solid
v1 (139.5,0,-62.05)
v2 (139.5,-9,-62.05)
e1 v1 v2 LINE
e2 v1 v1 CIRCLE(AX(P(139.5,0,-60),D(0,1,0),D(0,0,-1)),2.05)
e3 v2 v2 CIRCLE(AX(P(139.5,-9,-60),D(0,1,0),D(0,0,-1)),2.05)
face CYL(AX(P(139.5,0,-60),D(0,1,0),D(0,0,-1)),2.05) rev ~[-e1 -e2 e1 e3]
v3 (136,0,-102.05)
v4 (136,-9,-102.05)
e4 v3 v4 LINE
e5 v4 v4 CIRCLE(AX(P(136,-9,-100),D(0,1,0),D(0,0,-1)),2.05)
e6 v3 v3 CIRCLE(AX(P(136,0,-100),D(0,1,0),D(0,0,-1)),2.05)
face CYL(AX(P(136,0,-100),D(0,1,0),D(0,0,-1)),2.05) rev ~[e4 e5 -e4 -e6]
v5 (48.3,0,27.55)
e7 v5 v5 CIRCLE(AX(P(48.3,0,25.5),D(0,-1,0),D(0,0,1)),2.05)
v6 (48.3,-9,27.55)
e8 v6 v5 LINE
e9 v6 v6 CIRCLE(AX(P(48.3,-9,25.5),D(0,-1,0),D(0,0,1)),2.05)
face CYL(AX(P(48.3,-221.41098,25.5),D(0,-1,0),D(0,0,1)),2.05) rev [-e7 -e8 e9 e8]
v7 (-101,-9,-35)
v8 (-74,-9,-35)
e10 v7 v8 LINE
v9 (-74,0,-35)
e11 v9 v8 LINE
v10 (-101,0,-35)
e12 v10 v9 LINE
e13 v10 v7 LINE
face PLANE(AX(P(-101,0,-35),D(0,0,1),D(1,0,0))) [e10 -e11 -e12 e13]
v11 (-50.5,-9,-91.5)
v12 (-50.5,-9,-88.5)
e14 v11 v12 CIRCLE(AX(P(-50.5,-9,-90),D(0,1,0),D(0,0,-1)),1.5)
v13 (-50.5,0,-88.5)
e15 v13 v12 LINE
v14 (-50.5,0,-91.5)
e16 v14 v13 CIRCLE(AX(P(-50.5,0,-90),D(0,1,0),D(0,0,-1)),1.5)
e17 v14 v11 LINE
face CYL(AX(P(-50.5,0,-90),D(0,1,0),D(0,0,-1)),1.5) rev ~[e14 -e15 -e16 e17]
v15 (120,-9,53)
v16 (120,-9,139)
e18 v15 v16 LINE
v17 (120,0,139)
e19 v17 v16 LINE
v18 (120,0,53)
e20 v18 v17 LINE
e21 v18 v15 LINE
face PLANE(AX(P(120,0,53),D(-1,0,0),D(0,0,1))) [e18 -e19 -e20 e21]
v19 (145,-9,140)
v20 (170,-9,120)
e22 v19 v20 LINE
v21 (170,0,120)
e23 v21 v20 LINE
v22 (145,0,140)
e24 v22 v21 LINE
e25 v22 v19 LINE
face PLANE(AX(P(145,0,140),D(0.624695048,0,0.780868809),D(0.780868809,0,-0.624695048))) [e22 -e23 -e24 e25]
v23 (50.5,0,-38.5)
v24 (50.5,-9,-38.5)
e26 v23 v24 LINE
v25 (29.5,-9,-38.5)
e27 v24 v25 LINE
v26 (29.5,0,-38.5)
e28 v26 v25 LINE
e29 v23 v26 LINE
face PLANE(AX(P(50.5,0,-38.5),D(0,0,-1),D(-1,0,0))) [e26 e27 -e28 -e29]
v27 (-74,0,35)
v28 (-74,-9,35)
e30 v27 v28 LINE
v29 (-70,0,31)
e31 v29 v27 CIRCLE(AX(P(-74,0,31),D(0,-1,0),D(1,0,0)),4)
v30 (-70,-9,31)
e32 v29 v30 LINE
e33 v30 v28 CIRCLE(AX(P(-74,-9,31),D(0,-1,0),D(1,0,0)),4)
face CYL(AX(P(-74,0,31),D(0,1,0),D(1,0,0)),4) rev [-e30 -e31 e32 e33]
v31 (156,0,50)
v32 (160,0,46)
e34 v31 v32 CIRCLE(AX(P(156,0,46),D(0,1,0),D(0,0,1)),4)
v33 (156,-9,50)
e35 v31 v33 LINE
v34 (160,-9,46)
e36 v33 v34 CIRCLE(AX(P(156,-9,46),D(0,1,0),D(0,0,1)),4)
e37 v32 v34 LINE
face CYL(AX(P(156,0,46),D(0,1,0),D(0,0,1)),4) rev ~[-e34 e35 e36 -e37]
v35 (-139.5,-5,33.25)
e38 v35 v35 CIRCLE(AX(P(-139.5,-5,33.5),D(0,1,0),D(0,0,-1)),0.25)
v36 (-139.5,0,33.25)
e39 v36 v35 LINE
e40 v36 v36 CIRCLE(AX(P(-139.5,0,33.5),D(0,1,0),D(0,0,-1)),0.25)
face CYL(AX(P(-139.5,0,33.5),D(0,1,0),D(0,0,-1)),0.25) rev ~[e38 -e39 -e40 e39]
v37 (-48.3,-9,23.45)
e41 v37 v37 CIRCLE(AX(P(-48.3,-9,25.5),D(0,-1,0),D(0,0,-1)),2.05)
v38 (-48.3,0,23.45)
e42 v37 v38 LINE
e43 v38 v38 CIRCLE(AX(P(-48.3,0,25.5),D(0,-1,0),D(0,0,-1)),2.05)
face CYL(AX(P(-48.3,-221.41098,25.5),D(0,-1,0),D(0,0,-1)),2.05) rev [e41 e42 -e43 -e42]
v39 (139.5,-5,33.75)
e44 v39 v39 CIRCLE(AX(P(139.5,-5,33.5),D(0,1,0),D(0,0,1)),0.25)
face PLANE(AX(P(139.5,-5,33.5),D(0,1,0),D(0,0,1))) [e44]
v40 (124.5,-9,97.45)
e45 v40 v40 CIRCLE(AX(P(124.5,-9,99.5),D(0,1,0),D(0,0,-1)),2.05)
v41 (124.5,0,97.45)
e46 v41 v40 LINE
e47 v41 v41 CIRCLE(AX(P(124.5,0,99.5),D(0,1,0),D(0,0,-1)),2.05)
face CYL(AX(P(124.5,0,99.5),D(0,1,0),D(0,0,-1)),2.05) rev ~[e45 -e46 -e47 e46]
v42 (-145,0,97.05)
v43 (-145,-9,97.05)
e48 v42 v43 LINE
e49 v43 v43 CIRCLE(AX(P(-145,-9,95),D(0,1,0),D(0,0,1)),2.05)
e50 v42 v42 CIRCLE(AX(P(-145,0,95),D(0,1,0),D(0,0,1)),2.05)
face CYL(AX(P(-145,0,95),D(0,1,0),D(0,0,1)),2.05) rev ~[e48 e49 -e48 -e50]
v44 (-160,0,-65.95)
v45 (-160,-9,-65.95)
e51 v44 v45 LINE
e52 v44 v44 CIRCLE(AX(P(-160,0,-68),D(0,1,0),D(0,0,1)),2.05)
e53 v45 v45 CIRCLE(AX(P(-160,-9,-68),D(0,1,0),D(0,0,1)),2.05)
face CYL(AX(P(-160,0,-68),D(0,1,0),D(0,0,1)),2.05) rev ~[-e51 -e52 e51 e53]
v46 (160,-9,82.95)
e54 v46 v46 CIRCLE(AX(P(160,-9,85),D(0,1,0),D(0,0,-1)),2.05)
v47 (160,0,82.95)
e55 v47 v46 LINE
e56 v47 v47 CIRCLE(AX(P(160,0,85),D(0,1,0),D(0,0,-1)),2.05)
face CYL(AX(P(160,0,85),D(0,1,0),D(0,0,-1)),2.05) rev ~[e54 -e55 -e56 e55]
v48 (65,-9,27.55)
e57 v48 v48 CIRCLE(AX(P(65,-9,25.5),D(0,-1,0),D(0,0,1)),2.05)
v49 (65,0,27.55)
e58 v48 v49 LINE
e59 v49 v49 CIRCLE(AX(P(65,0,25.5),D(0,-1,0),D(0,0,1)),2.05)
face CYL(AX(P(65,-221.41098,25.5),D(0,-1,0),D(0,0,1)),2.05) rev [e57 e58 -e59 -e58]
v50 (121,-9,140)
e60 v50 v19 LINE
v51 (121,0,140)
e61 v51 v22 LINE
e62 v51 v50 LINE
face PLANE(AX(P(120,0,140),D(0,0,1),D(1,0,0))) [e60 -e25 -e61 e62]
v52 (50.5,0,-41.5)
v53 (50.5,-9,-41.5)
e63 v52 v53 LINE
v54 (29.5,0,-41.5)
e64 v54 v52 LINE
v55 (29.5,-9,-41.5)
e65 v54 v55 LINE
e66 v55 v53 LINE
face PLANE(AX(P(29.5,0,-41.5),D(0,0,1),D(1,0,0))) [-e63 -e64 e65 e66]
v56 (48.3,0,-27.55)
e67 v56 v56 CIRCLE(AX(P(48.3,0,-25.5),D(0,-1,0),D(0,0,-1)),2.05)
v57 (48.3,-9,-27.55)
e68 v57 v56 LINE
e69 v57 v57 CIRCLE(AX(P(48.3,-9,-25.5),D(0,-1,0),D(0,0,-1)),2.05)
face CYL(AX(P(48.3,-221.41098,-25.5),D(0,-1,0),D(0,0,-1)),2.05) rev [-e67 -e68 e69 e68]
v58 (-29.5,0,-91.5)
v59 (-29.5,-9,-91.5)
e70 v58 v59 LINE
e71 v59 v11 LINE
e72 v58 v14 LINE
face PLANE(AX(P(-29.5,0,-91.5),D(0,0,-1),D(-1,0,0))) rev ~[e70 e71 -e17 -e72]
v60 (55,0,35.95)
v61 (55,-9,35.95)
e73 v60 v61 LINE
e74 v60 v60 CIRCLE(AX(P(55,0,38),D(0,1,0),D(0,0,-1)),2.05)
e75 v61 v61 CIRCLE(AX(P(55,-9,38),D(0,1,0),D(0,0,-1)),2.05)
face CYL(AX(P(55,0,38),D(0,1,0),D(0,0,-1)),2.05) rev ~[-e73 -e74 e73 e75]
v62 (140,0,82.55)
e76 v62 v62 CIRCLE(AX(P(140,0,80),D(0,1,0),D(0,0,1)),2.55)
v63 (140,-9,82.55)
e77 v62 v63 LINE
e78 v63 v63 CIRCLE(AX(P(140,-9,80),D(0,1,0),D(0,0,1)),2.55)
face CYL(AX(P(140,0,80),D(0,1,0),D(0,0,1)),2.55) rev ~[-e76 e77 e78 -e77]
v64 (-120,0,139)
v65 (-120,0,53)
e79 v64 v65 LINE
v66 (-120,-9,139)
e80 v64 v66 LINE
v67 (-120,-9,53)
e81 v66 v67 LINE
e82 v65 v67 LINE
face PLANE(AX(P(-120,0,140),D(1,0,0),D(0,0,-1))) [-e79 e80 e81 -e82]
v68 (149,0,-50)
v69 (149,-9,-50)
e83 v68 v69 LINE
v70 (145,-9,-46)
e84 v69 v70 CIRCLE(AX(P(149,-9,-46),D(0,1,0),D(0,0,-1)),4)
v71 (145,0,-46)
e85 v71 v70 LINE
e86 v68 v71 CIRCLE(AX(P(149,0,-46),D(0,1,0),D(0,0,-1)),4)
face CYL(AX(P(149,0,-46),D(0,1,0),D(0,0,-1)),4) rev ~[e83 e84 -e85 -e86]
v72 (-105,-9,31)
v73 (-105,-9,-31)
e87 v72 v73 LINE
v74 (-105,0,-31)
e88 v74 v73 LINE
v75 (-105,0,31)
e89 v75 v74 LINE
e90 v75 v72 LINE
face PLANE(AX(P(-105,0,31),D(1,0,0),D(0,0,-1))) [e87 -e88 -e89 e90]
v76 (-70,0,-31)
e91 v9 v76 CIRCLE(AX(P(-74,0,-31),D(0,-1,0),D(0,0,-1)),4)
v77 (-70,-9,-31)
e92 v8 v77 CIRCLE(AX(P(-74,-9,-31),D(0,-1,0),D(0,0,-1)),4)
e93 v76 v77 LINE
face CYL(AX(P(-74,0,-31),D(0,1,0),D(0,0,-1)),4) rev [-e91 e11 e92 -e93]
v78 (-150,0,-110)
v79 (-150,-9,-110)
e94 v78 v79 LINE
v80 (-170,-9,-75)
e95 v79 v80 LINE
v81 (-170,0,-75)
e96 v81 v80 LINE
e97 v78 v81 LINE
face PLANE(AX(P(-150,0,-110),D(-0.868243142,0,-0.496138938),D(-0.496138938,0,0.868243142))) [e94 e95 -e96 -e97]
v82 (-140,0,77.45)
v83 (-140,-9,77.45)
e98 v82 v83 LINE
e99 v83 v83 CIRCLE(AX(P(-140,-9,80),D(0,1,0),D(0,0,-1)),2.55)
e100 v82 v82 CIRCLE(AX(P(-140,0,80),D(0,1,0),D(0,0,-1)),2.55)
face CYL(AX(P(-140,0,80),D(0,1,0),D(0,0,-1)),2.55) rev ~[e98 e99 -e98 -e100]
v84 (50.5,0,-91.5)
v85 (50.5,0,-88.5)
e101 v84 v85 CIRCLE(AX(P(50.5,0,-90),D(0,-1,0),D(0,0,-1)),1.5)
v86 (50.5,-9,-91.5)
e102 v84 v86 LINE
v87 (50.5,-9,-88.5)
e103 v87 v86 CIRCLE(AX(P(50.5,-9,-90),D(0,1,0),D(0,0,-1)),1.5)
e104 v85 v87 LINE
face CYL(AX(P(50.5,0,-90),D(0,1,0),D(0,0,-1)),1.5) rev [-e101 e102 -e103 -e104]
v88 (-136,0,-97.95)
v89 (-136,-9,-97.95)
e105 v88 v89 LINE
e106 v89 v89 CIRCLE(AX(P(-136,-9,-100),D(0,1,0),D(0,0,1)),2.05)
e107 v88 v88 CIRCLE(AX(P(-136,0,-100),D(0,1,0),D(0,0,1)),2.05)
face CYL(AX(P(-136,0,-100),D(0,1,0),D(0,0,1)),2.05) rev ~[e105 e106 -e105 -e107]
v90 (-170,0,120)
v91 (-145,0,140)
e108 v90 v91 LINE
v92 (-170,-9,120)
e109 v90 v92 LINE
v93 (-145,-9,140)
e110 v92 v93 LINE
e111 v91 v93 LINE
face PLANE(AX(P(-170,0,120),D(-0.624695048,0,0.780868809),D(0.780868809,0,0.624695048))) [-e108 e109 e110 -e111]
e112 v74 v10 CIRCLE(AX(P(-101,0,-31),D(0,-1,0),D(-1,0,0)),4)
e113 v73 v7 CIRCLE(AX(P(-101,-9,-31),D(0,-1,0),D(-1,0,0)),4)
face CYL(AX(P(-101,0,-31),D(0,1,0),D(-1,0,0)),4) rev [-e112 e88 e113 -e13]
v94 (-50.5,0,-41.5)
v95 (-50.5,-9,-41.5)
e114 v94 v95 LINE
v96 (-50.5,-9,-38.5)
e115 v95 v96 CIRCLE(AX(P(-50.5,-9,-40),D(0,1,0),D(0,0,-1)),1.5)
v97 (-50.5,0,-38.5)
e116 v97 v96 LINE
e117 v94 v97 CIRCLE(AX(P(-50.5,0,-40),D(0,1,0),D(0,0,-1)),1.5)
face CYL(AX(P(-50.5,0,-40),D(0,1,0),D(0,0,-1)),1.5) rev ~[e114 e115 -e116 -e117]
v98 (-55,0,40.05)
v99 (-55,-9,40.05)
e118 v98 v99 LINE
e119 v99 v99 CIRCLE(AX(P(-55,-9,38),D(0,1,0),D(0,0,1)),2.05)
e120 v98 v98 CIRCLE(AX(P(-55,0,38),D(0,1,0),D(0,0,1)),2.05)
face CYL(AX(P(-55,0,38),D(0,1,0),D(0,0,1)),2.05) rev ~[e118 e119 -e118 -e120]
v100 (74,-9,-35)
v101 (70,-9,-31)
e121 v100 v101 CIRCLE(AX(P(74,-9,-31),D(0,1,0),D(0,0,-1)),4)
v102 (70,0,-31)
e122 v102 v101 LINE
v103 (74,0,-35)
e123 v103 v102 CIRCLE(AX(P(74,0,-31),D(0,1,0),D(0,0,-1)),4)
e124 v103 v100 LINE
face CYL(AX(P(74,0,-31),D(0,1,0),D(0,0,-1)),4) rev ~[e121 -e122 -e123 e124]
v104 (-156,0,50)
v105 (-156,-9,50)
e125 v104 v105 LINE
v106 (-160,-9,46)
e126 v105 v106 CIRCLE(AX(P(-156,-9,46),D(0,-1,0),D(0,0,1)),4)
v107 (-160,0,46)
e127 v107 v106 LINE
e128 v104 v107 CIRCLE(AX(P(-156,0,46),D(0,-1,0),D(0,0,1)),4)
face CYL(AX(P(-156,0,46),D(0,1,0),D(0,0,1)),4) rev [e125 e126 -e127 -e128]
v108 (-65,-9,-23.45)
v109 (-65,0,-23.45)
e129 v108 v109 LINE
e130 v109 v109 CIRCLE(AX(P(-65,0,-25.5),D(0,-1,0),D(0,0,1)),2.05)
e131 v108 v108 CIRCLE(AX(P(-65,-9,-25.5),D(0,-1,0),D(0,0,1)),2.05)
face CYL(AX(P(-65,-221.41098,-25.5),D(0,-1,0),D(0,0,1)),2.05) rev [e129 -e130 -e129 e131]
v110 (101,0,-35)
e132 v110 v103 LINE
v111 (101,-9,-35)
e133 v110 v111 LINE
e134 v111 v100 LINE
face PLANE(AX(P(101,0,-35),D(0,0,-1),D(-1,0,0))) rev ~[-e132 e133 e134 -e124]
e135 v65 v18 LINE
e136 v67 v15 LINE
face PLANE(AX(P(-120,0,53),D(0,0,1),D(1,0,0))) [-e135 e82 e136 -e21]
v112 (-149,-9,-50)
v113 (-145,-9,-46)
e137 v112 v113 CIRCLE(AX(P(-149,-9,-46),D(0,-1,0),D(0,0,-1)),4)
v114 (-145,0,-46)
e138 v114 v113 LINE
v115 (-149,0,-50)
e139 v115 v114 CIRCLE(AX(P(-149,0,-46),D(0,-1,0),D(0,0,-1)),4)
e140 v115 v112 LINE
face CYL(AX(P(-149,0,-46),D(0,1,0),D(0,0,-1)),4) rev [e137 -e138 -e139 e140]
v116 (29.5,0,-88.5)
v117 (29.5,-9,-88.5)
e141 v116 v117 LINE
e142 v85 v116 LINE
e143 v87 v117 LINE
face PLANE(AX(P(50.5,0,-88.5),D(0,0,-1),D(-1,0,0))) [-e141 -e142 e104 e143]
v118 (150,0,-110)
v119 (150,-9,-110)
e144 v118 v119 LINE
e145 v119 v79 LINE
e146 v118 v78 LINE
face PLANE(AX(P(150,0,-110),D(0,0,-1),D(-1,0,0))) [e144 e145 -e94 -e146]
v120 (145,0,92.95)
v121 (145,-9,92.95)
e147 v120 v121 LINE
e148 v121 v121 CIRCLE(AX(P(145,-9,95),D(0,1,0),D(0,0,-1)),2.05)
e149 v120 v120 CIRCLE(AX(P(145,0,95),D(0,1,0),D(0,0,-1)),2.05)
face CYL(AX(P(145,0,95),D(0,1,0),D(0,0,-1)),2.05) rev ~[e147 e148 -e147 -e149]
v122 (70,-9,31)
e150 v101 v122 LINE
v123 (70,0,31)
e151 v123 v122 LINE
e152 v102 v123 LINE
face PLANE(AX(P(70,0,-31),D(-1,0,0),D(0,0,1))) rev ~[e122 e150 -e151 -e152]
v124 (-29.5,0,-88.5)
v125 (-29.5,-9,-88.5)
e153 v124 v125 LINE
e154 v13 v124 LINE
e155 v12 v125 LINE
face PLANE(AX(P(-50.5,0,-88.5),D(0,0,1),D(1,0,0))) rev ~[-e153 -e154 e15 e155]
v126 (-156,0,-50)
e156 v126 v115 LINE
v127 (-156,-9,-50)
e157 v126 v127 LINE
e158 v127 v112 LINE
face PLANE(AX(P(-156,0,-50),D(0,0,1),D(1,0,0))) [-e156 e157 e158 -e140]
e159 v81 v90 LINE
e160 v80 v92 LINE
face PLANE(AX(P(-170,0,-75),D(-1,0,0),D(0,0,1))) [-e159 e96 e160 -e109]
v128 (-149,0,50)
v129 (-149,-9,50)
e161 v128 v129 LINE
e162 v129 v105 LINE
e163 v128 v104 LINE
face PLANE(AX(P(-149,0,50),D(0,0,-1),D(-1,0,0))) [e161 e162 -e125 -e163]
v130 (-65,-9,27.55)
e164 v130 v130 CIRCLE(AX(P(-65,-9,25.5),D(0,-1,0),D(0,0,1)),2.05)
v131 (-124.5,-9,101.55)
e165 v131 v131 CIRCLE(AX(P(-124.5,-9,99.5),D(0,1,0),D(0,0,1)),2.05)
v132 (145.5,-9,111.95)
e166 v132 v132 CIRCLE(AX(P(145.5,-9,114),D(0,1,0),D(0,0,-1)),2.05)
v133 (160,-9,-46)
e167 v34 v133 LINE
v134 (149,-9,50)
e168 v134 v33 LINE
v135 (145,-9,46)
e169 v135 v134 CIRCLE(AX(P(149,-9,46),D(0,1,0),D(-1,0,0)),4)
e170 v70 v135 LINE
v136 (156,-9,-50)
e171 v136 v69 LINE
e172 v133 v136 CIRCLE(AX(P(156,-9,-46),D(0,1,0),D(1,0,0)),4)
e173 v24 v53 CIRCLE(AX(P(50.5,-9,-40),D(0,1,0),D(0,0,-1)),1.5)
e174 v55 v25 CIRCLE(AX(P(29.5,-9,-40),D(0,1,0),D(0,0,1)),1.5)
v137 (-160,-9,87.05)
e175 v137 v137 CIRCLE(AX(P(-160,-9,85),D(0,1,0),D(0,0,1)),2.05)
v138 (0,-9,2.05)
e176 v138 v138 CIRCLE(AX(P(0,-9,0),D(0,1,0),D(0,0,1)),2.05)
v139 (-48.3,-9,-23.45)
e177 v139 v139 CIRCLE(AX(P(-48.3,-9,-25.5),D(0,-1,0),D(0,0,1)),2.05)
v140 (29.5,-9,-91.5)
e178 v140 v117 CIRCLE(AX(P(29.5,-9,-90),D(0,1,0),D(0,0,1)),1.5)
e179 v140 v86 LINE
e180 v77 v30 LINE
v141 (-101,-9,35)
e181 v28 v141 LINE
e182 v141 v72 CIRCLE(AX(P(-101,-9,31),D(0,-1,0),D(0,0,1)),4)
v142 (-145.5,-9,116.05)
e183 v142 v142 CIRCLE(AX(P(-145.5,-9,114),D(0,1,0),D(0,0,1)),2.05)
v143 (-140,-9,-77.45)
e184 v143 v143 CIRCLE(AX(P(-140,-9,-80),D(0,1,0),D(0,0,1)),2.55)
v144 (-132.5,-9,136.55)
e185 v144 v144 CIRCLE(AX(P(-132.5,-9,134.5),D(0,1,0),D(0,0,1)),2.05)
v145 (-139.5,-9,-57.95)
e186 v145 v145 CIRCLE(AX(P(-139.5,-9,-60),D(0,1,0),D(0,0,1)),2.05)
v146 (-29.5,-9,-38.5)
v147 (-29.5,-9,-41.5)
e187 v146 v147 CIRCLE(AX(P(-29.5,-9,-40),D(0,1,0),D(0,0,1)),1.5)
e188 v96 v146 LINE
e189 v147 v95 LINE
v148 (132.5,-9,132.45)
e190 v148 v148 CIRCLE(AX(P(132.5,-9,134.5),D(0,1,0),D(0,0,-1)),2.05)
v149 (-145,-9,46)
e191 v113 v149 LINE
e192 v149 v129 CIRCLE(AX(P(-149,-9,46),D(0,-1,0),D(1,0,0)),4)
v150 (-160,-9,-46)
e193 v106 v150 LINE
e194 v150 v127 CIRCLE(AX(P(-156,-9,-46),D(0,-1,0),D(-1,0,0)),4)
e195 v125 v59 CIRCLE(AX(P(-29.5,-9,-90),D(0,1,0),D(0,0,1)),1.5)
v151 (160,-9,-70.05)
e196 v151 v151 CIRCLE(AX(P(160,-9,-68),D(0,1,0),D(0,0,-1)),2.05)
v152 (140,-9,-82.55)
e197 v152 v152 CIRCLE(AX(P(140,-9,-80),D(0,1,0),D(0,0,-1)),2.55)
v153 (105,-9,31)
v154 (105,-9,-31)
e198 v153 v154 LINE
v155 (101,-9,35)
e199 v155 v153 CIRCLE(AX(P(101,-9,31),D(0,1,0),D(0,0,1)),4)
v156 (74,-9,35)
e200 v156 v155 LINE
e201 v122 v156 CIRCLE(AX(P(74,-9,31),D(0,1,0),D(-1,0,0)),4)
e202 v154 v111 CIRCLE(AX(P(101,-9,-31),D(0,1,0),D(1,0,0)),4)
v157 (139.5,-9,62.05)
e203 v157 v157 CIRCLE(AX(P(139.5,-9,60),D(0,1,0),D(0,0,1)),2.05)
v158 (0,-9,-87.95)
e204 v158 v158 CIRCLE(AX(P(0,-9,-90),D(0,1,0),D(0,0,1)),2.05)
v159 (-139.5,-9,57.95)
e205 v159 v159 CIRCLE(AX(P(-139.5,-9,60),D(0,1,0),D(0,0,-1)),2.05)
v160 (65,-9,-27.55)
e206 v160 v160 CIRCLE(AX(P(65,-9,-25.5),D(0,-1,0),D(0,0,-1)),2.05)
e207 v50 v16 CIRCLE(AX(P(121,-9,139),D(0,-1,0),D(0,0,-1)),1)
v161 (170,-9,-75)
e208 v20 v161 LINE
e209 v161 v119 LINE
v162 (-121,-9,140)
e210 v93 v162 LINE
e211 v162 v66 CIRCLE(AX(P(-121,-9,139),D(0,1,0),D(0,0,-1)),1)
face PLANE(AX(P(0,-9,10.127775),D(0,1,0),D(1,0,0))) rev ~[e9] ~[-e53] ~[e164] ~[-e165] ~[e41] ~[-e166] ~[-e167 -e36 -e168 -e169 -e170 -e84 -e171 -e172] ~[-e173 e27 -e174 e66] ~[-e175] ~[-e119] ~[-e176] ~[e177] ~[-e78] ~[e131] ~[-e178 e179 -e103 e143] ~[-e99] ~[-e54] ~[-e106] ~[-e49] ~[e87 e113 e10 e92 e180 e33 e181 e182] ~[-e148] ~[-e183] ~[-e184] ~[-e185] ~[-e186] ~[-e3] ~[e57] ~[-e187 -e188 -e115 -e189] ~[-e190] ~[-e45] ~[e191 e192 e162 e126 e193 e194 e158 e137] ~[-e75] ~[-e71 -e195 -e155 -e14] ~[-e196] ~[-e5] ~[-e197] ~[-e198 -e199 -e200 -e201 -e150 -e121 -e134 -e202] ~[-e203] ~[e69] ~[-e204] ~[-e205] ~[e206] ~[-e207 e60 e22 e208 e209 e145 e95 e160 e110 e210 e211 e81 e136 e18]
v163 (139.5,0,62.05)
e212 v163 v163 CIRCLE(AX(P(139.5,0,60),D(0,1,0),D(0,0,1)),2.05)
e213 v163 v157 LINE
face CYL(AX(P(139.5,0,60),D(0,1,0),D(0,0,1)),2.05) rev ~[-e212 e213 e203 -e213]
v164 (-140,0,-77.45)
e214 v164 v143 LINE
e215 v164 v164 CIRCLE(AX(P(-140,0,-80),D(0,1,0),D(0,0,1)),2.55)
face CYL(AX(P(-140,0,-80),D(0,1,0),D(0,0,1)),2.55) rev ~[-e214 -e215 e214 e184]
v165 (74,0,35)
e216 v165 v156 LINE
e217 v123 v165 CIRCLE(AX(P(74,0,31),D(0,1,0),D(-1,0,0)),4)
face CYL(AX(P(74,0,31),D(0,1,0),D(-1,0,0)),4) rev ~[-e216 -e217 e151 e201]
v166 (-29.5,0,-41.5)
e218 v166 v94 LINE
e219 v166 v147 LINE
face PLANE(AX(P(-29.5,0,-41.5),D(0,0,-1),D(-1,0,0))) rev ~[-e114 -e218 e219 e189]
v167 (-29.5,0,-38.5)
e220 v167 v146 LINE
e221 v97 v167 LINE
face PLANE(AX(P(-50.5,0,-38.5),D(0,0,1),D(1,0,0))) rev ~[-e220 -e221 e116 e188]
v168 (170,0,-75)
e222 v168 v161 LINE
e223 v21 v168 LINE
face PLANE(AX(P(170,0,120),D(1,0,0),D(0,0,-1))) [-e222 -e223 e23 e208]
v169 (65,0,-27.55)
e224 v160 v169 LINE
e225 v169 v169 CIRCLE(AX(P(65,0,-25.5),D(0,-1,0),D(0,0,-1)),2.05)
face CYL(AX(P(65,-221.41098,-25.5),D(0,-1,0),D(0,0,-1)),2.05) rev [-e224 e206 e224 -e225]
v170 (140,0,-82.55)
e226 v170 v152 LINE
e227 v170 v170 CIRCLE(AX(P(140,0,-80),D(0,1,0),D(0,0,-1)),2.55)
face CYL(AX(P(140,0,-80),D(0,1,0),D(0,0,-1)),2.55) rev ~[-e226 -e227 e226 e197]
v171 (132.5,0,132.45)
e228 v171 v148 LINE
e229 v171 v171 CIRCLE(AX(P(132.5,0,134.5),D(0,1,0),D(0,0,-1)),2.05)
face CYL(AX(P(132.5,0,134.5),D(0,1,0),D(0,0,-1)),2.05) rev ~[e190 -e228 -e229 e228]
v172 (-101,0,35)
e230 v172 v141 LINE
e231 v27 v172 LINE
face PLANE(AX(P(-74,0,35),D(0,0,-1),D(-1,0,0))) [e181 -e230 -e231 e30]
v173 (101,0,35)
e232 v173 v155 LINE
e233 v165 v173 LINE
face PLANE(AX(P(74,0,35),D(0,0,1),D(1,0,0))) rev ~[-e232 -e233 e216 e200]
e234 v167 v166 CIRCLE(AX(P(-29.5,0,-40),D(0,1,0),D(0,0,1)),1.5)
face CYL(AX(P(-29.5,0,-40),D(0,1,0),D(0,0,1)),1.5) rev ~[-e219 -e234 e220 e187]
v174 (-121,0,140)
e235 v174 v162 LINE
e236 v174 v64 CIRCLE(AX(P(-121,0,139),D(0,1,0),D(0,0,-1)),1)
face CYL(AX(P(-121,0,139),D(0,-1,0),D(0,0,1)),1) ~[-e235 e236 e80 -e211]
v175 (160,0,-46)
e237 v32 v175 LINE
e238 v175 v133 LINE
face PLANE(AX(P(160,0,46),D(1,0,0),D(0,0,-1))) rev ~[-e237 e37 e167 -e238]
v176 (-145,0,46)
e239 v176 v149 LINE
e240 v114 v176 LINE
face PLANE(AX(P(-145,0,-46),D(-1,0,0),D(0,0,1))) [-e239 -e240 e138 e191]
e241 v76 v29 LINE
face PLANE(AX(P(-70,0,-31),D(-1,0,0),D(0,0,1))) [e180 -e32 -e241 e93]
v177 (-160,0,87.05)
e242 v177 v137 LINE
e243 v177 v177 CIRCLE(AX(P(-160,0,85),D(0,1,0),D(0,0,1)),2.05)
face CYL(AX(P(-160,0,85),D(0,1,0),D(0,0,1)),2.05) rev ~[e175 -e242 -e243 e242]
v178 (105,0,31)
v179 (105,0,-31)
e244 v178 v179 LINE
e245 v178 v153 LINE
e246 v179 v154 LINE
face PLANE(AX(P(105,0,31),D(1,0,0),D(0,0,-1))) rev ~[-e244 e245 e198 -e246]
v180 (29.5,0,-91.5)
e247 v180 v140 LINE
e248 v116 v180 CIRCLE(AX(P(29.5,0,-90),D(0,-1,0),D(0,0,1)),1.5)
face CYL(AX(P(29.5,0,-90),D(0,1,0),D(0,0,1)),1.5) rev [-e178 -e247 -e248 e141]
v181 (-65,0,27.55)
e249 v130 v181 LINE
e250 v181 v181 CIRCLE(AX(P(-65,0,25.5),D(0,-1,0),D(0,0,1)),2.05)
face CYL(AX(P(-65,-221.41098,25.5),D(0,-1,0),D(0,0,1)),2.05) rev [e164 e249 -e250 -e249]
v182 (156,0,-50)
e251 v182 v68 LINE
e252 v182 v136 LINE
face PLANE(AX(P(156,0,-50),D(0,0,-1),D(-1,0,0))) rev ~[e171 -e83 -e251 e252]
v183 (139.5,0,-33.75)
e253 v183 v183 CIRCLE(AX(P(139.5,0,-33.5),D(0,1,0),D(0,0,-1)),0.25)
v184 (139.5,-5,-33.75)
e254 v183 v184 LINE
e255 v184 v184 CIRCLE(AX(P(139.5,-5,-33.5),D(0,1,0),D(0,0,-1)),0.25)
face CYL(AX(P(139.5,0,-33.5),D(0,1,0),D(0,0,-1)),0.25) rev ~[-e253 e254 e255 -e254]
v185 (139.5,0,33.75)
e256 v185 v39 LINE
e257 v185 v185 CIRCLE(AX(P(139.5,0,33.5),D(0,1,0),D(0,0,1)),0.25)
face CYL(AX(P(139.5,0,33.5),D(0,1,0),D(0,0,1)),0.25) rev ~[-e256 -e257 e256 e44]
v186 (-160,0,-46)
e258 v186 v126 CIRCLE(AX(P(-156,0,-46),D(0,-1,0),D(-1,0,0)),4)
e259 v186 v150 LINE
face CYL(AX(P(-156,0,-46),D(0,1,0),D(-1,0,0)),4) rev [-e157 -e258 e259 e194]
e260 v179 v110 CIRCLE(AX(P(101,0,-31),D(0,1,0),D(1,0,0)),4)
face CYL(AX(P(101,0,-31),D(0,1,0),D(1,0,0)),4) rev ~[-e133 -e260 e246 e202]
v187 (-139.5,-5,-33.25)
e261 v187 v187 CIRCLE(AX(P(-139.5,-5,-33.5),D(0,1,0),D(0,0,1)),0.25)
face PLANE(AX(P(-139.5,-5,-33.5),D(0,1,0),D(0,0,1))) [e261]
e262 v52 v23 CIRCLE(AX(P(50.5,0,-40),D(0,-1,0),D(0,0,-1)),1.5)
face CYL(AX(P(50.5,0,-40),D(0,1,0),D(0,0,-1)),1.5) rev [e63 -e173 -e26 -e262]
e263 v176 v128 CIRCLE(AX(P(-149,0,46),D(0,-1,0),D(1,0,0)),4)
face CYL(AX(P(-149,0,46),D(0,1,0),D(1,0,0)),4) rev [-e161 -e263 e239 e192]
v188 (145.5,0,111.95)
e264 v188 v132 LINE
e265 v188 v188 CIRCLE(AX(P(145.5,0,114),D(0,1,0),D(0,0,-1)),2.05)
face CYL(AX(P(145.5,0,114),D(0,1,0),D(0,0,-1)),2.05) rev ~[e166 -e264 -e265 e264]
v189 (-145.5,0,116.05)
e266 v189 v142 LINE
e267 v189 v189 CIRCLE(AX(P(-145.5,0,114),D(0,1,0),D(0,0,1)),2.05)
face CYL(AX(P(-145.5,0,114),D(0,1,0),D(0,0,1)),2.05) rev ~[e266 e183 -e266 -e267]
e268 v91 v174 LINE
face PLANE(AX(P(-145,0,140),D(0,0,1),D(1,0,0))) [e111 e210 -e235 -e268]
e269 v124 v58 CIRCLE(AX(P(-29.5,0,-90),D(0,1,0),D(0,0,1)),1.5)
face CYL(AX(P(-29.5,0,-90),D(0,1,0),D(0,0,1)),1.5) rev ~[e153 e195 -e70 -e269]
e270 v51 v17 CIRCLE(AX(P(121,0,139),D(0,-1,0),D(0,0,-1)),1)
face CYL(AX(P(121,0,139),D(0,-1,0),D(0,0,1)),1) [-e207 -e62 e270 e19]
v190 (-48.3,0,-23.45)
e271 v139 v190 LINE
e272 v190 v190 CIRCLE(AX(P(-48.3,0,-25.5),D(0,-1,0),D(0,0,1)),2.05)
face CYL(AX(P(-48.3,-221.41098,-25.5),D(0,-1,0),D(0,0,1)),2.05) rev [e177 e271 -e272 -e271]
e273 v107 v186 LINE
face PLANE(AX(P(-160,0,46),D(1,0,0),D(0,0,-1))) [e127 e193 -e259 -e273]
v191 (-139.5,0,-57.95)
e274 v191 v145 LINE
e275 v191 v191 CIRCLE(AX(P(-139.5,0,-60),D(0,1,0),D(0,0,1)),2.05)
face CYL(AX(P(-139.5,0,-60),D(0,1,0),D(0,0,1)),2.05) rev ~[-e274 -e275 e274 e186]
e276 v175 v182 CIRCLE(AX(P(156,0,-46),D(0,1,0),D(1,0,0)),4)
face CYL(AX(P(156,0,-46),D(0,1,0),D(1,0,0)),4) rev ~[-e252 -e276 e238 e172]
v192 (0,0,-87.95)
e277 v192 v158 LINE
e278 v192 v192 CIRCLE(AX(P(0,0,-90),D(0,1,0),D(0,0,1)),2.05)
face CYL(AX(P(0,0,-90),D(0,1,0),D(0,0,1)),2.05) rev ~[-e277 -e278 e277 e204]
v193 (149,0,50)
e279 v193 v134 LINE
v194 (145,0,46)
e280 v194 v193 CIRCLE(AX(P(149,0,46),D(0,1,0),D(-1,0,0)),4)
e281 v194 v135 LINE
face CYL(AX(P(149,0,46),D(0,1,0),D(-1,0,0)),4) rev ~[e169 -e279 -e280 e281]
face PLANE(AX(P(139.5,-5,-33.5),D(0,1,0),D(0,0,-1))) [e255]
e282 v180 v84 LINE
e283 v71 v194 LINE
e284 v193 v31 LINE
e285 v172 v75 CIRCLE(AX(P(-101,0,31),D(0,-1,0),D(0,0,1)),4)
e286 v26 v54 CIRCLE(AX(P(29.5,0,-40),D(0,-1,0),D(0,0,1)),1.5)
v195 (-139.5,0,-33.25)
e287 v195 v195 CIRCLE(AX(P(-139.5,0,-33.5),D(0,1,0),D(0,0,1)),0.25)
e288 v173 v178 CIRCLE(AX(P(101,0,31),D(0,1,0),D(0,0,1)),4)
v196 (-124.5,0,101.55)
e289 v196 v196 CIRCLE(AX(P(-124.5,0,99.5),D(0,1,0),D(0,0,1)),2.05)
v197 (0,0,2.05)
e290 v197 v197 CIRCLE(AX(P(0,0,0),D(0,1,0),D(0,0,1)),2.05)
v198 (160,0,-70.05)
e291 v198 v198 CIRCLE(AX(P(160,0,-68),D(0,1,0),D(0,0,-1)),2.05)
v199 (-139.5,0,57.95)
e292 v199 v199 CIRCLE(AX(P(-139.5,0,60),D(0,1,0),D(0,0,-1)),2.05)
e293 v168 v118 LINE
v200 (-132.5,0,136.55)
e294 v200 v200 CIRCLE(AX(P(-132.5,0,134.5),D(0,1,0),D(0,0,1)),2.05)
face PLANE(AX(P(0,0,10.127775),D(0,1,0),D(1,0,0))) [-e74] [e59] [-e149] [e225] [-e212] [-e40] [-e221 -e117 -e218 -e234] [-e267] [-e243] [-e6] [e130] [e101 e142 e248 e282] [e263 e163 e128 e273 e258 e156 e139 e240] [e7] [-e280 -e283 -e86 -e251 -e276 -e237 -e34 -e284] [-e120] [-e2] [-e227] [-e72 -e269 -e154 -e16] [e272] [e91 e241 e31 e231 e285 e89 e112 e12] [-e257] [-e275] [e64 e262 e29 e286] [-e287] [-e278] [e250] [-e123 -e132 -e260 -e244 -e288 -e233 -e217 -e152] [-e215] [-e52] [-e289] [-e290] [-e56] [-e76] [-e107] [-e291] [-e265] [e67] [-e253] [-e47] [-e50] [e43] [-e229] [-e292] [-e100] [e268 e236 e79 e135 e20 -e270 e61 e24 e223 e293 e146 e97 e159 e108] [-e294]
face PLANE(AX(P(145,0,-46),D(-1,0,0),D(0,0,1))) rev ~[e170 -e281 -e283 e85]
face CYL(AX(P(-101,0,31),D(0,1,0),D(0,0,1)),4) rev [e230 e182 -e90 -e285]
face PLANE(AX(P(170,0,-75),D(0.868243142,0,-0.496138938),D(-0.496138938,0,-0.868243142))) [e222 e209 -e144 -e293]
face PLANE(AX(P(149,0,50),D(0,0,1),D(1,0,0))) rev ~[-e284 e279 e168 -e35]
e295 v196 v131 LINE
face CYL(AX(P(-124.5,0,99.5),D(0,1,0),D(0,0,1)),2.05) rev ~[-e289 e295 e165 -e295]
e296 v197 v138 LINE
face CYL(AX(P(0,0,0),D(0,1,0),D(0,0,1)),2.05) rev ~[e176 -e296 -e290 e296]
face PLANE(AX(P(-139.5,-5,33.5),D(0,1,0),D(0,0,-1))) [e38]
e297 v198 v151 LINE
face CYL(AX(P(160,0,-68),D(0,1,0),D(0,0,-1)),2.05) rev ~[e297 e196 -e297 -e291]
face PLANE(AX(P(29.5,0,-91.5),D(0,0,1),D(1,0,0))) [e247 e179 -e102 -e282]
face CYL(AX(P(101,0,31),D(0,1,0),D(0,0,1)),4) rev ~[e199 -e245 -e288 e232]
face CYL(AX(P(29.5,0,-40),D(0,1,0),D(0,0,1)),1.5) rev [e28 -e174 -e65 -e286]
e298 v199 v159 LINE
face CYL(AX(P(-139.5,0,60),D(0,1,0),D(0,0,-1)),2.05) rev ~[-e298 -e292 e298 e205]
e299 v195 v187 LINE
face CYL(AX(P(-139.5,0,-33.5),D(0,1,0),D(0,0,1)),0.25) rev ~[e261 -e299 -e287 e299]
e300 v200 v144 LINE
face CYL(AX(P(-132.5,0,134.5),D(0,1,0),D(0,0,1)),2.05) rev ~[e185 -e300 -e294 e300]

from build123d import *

# Parameters (mm, degrees)
ESQUISSE3_R             = 2.55
STRUCTURE_DEPTH         = 9
ESQUISSE4_R             = 0.25
ENCOCHES_TIGES_DEPTH    = 5
ESQUISSE5_R             = 2.05
ENCODEURS_DEPTH         = 221.410979763
MOTEURS_DEPTH           = 221.410979763
MOTEURS_DEPTH_BACK      = 221.410979763
ESQUISSE6_R             = 2.05
ESQUISSE7_R             = 2.05
PATINS_DEPTH            = 221.410979763
ESQUISSE8_R             = 2.05
ACTIONNEURS_DEPTH       = 221.410979763
CONG_1_R                = 1
BATTERIE_DEPTH          = 30
ESQUISSE10_OUTSIDE_W    = 426.422
ESQUISSE10_OUTSIDE_H    = 336.422
ESQUISSE10_OUTSIDE_R    = 2.05
ESQUISSE10_OUTSIDE_R_2  = 2.55
ENL_V_MAT_EXTRU_1_DEPTH = 10
ESQUISSE11_OUTSIDE_W    = 426.422
ESQUISSE11_OUTSIDE_H    = 336.422
ESQUISSE11_OUTSIDE_R    = 2.05
ENL_V_MAT_EXTRU_2_DEPTH = 10


with BuildPart() as part:
    # Esquisse3 → structure (new body)
    with BuildSketch(Plane(origin=(0, 0, 0), x_dir=(1, 0, 0), z_dir=(0, 1, 0))):
        Polygon((150, 110), (-150, 110), (-170, 75), (-170, 0), (-170, -120), (-145, -140), (-120, -140), (-120, -53), (120, -53), (120, -140), (145, -140), (170, -120), (170, 0), (170, 75), align=None)
        with Locations(Location((-140, 80, 0), (0, 0, 270))):
            Circle(ESQUISSE3_R, mode=Mode.SUBTRACT)
        with Locations(Location((-140, -80, 0), (0, 0, 90))):
            Circle(ESQUISSE3_R, mode=Mode.SUBTRACT)
        with Locations(Location((140, -80, 0), (0, 0, 270))):
            Circle(ESQUISSE3_R, mode=Mode.SUBTRACT)
        with Locations(Location((140, 80, 0), (0, 0, 90))):
            Circle(ESQUISSE3_R, mode=Mode.SUBTRACT)
        with BuildLine():
            Line((-160, -46), (-160, 46))
            ThreePointArc((-160, 46), (-158.828427125, 48.828427125), (-156, 50))
            Line((-156, 50), (-149, 50))
            ThreePointArc((-149, 50), (-146.171572875, 48.828427125), (-145, 46))
            Line((-145, 46), (-145, -46))
            ThreePointArc((-145, -46), (-146.171572875, -48.828427125), (-149, -50))
            Line((-149, -50), (-156, -50))
            ThreePointArc((-156, -50), (-158.828427125, -48.828427125), (-160, -46))
        make_face(mode=Mode.SUBTRACT)
        with BuildLine():
            Line((-105, 0), (-105, 31))
            ThreePointArc((-105, 31), (-103.828427125, 33.828427125), (-101, 35))
            Line((-101, 35), (-74, 35))
            ThreePointArc((-74, 35), (-71.171572875, 33.828427125), (-70, 31))
            Line((-70, 31), (-70, -31))
            ThreePointArc((-70, -31), (-71.171572875, -33.828427125), (-74, -35))
            Line((-74, -35), (-101, -35))
            ThreePointArc((-101, -35), (-103.828427125, -33.828427125), (-105, -31))
            Line((-105, -31), (-105, 0))
        make_face(mode=Mode.SUBTRACT)
        with BuildLine():
            Line((156, 50), (149, 50))
            ThreePointArc((149, 50), (146.171572875, 48.828427125), (145, 46))
            Line((145, 46), (145, -46))
            ThreePointArc((145, -46), (146.171572875, -48.828427125), (149, -50))
            Line((149, -50), (156, -50))
            ThreePointArc((156, -50), (158.828427125, -48.828427125), (160, -46))
            Line((160, -46), (160, 46))
            ThreePointArc((160, 46), (158.828427125, 48.828427125), (156, 50))
        make_face(mode=Mode.SUBTRACT)
        with BuildLine():
            Line((105, 0), (105, 31))
            ThreePointArc((105, 31), (103.828427125, 33.828427125), (101, 35))
            Line((101, 35), (74, 35))
            ThreePointArc((74, 35), (71.171572875, 33.828427125), (70, 31))
            Line((70, 31), (70, -31))
            ThreePointArc((70, -31), (71.171572875, -33.828427125), (74, -35))
            Line((74, -35), (101, -35))
            ThreePointArc((101, -35), (103.828427125, -33.828427125), (105, -31))
            Line((105, -31), (105, 0))
        make_face(mode=Mode.SUBTRACT)
    extrude(amount=-STRUCTURE_DEPTH)

    # Esquisse4 → encoches_tiges (cut)
    with BuildSketch(Plane(origin=(0, 0, 0), x_dir=(1, 0, 0), z_dir=(0, 1, 0))):
        with Locations(Location((-139.5, 33.5, 0), (0, 0, 270))):
            Circle(ESQUISSE4_R)
        with Locations(Location((-139.5, -33.5, 0), (0, 0, 90))):
            Circle(ESQUISSE4_R)
        with Locations(Location((139.5, -33.5, 0), (0, 0, 270))):
            Circle(ESQUISSE4_R)
        with Locations(Location((139.5, 33.5, 0), (0, 0, 90))):
            Circle(ESQUISSE4_R)
    extrude(amount=-ENCOCHES_TIGES_DEPTH, mode=Mode.SUBTRACT)

    # Esquisse5 → encodeurs (cut, through all)
    with BuildSketch(Plane(origin=(0, 0, 0), x_dir=(1, 0, 0), z_dir=(0, 1, 0))):
        with Locations(Location((-139.5, 60, 0), (0, 0, 270))):
            Circle(ESQUISSE5_R)
        with Locations(Location((-139.5, -60, 0), (0, 0, 90))):
            Circle(ESQUISSE5_R)
        with Locations(Location((139.5, -60, 0), (0, 0, 270))):
            Circle(ESQUISSE5_R)
        with Locations(Location((139.5, 60, 0), (0, 0, 90))):
            Circle(ESQUISSE5_R)
    extrude(amount=-ENCODEURS_DEPTH, mode=Mode.SUBTRACT)

    # Esquisse6 → moteurs (cut, two sides: drawn at the far end of the back side and taken through both)
    with BuildSketch(Plane(origin=(0, 0, 0), x_dir=(1, 0, 0), z_dir=(0, 1, 0)).offset(-MOTEURS_DEPTH_BACK)):
        with Locations(Location((-65, 25.5, 0), (0, 0, 270))):
            Circle(ESQUISSE6_R)
        with Locations(Location((-48.3, 25.5, 0), (0, 0, 270))):
            Circle(ESQUISSE6_R)
        with Locations(Location((-65, -25.5, 0), (0, 0, 270))):
            Circle(ESQUISSE6_R)
        with Locations(Location((48.3, -25.5, 0), (0, 0, 270))):
            Circle(ESQUISSE6_R)
        with Locations(Location((65, -25.5, 0), (0, 0, 270))):
            Circle(ESQUISSE6_R)
        with Locations(Location((-48.3, -25.5, 0), (0, 0, 90))):
            Circle(ESQUISSE6_R)
        with Locations(Location((48.3, 25.5, 0), (0, 0, 90))):
            Circle(ESQUISSE6_R)
        with Locations(Location((65, 25.5, 0), (0, 0, 90))):
            Circle(ESQUISSE6_R)
    extrude(amount=MOTEURS_DEPTH + MOTEURS_DEPTH_BACK, mode=Mode.SUBTRACT)

    # Esquisse7 → patins (cut, through all)
    with BuildSketch(Plane(origin=(0, 0, 0), x_dir=(1, 0, 0), z_dir=(0, 1, 0))):
        with Locations(Location((0, 90, 0), (0, 0, 270))):
            Circle(ESQUISSE7_R)
        with Locations(Location((0, 0, 0), (0, 0, 270))):
            Circle(ESQUISSE7_R)
        with Locations(Location((-145, -95, 0), (0, 0, 270))):
            Circle(ESQUISSE7_R)
        with Locations(Location((145, -95, 0), (0, 0, 90))):
            Circle(ESQUISSE7_R)
    extrude(amount=-PATINS_DEPTH, mode=Mode.SUBTRACT)

    # Esquisse8 → actionneurs (cut, through all)
    with BuildSketch(Plane(origin=(0, 0, 0), x_dir=(1, 0, 0), z_dir=(0, 1, 0))):
        with Locations(Location((-132.5, -134.5, 0), (0, 0, 270))):
            Circle(ESQUISSE8_R)
        with Locations(Location((-124.5, -99.5, 0), (0, 0, 270))):
            Circle(ESQUISSE8_R)
        with Locations(Location((132.5, -134.5, 0), (0, 0, 90))):
            Circle(ESQUISSE8_R)
        with Locations(Location((124.5, -99.5, 0), (0, 0, 90))):
            Circle(ESQUISSE8_R)
        with Locations(Location((-145.5, -114, 0), (0, 0, 270))):
            Circle(ESQUISSE8_R)
        with Locations(Location((145.5, -114, 0), (0, 0, 90))):
            Circle(ESQUISSE8_R)
    extrude(amount=-ACTIONNEURS_DEPTH, mode=Mode.SUBTRACT)

    # Congé1
    cong_1_edges = [part.edges().sort_by_distance(p)[0] for p in [
        (-120, -4.5, 140),
        (120, -4.5, 140),
    ]]
    fillet(cong_1_edges, radius=CONG_1_R)

    # Esquisse9 → batterie (cut)
    with BuildSketch(Plane(origin=(0, 0, 0), x_dir=(1, 0, 0), z_dir=(0, 1, 0))):
        with BuildLine():
            ThreePointArc((29.5, 88.5), (28, 90), (29.5, 91.5))
            Line((29.5, 91.5), (50.5, 91.5))
            ThreePointArc((50.5, 91.5), (52, 90), (50.5, 88.5))
            Line((50.5, 88.5), (29.5, 88.5))
        make_face()
        with BuildLine():
            Line((-50.5, 88.5), (-29.5, 88.5))
            ThreePointArc((-29.5, 88.5), (-28, 90), (-29.5, 91.5))
            Line((-29.5, 91.5), (-50.5, 91.5))
            ThreePointArc((-50.5, 91.5), (-52, 90), (-50.5, 88.5))
        make_face()
        with BuildLine():
            Line((-50.5, 38.5), (-29.5, 38.5))
            ThreePointArc((-29.5, 38.5), (-28, 40), (-29.5, 41.5))
            Line((-29.5, 41.5), (-50.5, 41.5))
            ThreePointArc((-50.5, 41.5), (-52, 40), (-50.5, 38.5))
        make_face()
        with BuildLine():
            Line((50.5, 38.5), (29.5, 38.5))
            ThreePointArc((29.5, 38.5), (28, 40), (29.5, 41.5))
            Line((29.5, 41.5), (50.5, 41.5))
            ThreePointArc((50.5, 41.5), (52, 40), (50.5, 38.5))
        make_face()
    extrude(amount=-BATTERIE_DEPTH, mode=Mode.SUBTRACT)

    # Esquisse10 outside → Enlèv. mat.-Extru.1 (cut)
    # profile 1 of 9: a face of its own
    with BuildSketch(Plane(origin=(0, 0, 0), x_dir=(1, 0, 0), z_dir=(0, 1, 0))):
        with Locations((0, -15)):
            Rectangle(ESQUISSE10_OUTSIDE_W, ESQUISSE10_OUTSIDE_H)
        with BuildLine():
            Line((120, -53), (120, -139))
            ThreePointArc((120, -139), (120.292893219, -139.707106781), (121, -140))
            Line((121, -140), (145, -140))
            Line((145, -140), (170, -120))
            Line((170, -120), (170, 75))
            Line((170, 75), (150, 110))
            Line((150, 110), (-150, 110))
            Line((-150, 110), (-170, 75))
            Line((-170, 75), (-170, -120))
            Line((-170, -120), (-145, -140))
            Line((-145, -140), (-121, -140))
            ThreePointArc((-121, -140), (-120.292893219, -139.707106781), (-120, -139))
            Line((-120, -139), (-120, -53))
            Line((-120, -53), (120, -53))
        make_face(mode=Mode.SUBTRACT)
    # profile 2 of 9: a face of its own
    with BuildSketch(Plane(origin=(0, 0, 0), x_dir=(1, 0, 0), z_dir=(0, 1, 0))):
        with Locations(Location((-136, 100, 0), (0, 0, 270))):
            Circle(ESQUISSE10_OUTSIDE_R)
    # profile 3 of 9: a face of its own
    with BuildSketch(Plane(origin=(0, 0, 0), x_dir=(1, 0, 0), z_dir=(0, 1, 0))):
        with Locations(Location((-160, 68, 0), (0, 0, 270))):
            Circle(ESQUISSE10_OUTSIDE_R)
    # profile 4 of 9: a face of its own
    with BuildSketch(Plane(origin=(0, 0, 0), x_dir=(1, 0, 0), z_dir=(0, 1, 0))):
        with Locations(Location((-160, -85, 0), (0, 0, 270))):
            Circle(ESQUISSE10_OUTSIDE_R)
    # profile 5 of 9: a face of its own
    with BuildSketch(Plane(origin=(0, 0, 0), x_dir=(1, 0, 0), z_dir=(0, 1, 0))):
        with Locations(Location((160, -85, 0), (0, 0, 90))):
            Circle(ESQUISSE10_OUTSIDE_R)
    # profile 6 of 9: a face of its own
    with BuildSketch(Plane(origin=(0, 0, 0), x_dir=(1, 0, 0), z_dir=(0, 1, 0))):
        with Locations(Location((160, 68, 0), (0, 0, 90))):
            Circle(ESQUISSE10_OUTSIDE_R)
    # profile 7 of 9: a face of its own
    with BuildSketch(Plane(origin=(0, 0, 0), x_dir=(1, 0, 0), z_dir=(0, 1, 0))):
        with Locations(Location((136, 100, 0), (0, 0, 90))):
            Circle(ESQUISSE10_OUTSIDE_R)
    # profile 8 of 9: a face of its own
    with BuildSketch(Plane(origin=(0, 0, 0), x_dir=(1, 0, 0), z_dir=(0, 1, 0))):
        with Locations(Location((-140, 80, 0), (0, 0, 270))):
            Circle(ESQUISSE10_OUTSIDE_R_2)
    # profile 9 of 9: a face of its own
    with BuildSketch(Plane(origin=(0, 0, 0), x_dir=(1, 0, 0), z_dir=(0, 1, 0))):
        with Locations(Location((-140, -80, 0), (0, 0, 90))):
            Circle(ESQUISSE10_OUTSIDE_R_2)
    extrude(amount=-ENL_V_MAT_EXTRU_1_DEPTH, mode=Mode.SUBTRACT)

    # Esquisse11 outside → Enlèv. mat.-Extru.2 (cut)
    # profile 1 of 3: a face of its own
    with BuildSketch(Plane(origin=(0, 0, 0), x_dir=(1, 0, 0), z_dir=(0, 1, 0))):
        with Locations((0, -15)):
            Rectangle(ESQUISSE11_OUTSIDE_W, ESQUISSE11_OUTSIDE_H)
        with BuildLine():
            Line((120, -53), (120, -139))
            ThreePointArc((120, -139), (120.292893219, -139.707106781), (121, -140))
            Line((121, -140), (145, -140))
            Line((145, -140), (170, -120))
            Line((170, -120), (170, 75))
            Line((170, 75), (150, 110))
            Line((150, 110), (-150, 110))
            Line((-150, 110), (-170, 75))
            Line((-170, 75), (-170, -120))
            Line((-170, -120), (-145, -140))
            Line((-145, -140), (-121, -140))
            ThreePointArc((-121, -140), (-120.292893219, -139.707106781), (-120, -139))
            Line((-120, -139), (-120, -53))
            Line((-120, -53), (120, -53))
        make_face(mode=Mode.SUBTRACT)
    # profile 2 of 3: a face of its own
    with BuildSketch(Plane(origin=(0, 0, 0), x_dir=(1, 0, 0), z_dir=(0, 1, 0))):
        with Locations(Location((-55, -38, 0), (0, 0, 270))):
            Circle(ESQUISSE11_OUTSIDE_R)
    # profile 3 of 3: a face of its own
    with BuildSketch(Plane(origin=(0, 0, 0), x_dir=(1, 0, 0), z_dir=(0, 1, 0))):
        with Locations(Location((55, -38, 0), (0, 0, 90))):
            Circle(ESQUISSE11_OUTSIDE_R)
    extrude(amount=-ENL_V_MAT_EXTRU_2_DEPTH, mode=Mode.SUBTRACT)


solid = part.part
